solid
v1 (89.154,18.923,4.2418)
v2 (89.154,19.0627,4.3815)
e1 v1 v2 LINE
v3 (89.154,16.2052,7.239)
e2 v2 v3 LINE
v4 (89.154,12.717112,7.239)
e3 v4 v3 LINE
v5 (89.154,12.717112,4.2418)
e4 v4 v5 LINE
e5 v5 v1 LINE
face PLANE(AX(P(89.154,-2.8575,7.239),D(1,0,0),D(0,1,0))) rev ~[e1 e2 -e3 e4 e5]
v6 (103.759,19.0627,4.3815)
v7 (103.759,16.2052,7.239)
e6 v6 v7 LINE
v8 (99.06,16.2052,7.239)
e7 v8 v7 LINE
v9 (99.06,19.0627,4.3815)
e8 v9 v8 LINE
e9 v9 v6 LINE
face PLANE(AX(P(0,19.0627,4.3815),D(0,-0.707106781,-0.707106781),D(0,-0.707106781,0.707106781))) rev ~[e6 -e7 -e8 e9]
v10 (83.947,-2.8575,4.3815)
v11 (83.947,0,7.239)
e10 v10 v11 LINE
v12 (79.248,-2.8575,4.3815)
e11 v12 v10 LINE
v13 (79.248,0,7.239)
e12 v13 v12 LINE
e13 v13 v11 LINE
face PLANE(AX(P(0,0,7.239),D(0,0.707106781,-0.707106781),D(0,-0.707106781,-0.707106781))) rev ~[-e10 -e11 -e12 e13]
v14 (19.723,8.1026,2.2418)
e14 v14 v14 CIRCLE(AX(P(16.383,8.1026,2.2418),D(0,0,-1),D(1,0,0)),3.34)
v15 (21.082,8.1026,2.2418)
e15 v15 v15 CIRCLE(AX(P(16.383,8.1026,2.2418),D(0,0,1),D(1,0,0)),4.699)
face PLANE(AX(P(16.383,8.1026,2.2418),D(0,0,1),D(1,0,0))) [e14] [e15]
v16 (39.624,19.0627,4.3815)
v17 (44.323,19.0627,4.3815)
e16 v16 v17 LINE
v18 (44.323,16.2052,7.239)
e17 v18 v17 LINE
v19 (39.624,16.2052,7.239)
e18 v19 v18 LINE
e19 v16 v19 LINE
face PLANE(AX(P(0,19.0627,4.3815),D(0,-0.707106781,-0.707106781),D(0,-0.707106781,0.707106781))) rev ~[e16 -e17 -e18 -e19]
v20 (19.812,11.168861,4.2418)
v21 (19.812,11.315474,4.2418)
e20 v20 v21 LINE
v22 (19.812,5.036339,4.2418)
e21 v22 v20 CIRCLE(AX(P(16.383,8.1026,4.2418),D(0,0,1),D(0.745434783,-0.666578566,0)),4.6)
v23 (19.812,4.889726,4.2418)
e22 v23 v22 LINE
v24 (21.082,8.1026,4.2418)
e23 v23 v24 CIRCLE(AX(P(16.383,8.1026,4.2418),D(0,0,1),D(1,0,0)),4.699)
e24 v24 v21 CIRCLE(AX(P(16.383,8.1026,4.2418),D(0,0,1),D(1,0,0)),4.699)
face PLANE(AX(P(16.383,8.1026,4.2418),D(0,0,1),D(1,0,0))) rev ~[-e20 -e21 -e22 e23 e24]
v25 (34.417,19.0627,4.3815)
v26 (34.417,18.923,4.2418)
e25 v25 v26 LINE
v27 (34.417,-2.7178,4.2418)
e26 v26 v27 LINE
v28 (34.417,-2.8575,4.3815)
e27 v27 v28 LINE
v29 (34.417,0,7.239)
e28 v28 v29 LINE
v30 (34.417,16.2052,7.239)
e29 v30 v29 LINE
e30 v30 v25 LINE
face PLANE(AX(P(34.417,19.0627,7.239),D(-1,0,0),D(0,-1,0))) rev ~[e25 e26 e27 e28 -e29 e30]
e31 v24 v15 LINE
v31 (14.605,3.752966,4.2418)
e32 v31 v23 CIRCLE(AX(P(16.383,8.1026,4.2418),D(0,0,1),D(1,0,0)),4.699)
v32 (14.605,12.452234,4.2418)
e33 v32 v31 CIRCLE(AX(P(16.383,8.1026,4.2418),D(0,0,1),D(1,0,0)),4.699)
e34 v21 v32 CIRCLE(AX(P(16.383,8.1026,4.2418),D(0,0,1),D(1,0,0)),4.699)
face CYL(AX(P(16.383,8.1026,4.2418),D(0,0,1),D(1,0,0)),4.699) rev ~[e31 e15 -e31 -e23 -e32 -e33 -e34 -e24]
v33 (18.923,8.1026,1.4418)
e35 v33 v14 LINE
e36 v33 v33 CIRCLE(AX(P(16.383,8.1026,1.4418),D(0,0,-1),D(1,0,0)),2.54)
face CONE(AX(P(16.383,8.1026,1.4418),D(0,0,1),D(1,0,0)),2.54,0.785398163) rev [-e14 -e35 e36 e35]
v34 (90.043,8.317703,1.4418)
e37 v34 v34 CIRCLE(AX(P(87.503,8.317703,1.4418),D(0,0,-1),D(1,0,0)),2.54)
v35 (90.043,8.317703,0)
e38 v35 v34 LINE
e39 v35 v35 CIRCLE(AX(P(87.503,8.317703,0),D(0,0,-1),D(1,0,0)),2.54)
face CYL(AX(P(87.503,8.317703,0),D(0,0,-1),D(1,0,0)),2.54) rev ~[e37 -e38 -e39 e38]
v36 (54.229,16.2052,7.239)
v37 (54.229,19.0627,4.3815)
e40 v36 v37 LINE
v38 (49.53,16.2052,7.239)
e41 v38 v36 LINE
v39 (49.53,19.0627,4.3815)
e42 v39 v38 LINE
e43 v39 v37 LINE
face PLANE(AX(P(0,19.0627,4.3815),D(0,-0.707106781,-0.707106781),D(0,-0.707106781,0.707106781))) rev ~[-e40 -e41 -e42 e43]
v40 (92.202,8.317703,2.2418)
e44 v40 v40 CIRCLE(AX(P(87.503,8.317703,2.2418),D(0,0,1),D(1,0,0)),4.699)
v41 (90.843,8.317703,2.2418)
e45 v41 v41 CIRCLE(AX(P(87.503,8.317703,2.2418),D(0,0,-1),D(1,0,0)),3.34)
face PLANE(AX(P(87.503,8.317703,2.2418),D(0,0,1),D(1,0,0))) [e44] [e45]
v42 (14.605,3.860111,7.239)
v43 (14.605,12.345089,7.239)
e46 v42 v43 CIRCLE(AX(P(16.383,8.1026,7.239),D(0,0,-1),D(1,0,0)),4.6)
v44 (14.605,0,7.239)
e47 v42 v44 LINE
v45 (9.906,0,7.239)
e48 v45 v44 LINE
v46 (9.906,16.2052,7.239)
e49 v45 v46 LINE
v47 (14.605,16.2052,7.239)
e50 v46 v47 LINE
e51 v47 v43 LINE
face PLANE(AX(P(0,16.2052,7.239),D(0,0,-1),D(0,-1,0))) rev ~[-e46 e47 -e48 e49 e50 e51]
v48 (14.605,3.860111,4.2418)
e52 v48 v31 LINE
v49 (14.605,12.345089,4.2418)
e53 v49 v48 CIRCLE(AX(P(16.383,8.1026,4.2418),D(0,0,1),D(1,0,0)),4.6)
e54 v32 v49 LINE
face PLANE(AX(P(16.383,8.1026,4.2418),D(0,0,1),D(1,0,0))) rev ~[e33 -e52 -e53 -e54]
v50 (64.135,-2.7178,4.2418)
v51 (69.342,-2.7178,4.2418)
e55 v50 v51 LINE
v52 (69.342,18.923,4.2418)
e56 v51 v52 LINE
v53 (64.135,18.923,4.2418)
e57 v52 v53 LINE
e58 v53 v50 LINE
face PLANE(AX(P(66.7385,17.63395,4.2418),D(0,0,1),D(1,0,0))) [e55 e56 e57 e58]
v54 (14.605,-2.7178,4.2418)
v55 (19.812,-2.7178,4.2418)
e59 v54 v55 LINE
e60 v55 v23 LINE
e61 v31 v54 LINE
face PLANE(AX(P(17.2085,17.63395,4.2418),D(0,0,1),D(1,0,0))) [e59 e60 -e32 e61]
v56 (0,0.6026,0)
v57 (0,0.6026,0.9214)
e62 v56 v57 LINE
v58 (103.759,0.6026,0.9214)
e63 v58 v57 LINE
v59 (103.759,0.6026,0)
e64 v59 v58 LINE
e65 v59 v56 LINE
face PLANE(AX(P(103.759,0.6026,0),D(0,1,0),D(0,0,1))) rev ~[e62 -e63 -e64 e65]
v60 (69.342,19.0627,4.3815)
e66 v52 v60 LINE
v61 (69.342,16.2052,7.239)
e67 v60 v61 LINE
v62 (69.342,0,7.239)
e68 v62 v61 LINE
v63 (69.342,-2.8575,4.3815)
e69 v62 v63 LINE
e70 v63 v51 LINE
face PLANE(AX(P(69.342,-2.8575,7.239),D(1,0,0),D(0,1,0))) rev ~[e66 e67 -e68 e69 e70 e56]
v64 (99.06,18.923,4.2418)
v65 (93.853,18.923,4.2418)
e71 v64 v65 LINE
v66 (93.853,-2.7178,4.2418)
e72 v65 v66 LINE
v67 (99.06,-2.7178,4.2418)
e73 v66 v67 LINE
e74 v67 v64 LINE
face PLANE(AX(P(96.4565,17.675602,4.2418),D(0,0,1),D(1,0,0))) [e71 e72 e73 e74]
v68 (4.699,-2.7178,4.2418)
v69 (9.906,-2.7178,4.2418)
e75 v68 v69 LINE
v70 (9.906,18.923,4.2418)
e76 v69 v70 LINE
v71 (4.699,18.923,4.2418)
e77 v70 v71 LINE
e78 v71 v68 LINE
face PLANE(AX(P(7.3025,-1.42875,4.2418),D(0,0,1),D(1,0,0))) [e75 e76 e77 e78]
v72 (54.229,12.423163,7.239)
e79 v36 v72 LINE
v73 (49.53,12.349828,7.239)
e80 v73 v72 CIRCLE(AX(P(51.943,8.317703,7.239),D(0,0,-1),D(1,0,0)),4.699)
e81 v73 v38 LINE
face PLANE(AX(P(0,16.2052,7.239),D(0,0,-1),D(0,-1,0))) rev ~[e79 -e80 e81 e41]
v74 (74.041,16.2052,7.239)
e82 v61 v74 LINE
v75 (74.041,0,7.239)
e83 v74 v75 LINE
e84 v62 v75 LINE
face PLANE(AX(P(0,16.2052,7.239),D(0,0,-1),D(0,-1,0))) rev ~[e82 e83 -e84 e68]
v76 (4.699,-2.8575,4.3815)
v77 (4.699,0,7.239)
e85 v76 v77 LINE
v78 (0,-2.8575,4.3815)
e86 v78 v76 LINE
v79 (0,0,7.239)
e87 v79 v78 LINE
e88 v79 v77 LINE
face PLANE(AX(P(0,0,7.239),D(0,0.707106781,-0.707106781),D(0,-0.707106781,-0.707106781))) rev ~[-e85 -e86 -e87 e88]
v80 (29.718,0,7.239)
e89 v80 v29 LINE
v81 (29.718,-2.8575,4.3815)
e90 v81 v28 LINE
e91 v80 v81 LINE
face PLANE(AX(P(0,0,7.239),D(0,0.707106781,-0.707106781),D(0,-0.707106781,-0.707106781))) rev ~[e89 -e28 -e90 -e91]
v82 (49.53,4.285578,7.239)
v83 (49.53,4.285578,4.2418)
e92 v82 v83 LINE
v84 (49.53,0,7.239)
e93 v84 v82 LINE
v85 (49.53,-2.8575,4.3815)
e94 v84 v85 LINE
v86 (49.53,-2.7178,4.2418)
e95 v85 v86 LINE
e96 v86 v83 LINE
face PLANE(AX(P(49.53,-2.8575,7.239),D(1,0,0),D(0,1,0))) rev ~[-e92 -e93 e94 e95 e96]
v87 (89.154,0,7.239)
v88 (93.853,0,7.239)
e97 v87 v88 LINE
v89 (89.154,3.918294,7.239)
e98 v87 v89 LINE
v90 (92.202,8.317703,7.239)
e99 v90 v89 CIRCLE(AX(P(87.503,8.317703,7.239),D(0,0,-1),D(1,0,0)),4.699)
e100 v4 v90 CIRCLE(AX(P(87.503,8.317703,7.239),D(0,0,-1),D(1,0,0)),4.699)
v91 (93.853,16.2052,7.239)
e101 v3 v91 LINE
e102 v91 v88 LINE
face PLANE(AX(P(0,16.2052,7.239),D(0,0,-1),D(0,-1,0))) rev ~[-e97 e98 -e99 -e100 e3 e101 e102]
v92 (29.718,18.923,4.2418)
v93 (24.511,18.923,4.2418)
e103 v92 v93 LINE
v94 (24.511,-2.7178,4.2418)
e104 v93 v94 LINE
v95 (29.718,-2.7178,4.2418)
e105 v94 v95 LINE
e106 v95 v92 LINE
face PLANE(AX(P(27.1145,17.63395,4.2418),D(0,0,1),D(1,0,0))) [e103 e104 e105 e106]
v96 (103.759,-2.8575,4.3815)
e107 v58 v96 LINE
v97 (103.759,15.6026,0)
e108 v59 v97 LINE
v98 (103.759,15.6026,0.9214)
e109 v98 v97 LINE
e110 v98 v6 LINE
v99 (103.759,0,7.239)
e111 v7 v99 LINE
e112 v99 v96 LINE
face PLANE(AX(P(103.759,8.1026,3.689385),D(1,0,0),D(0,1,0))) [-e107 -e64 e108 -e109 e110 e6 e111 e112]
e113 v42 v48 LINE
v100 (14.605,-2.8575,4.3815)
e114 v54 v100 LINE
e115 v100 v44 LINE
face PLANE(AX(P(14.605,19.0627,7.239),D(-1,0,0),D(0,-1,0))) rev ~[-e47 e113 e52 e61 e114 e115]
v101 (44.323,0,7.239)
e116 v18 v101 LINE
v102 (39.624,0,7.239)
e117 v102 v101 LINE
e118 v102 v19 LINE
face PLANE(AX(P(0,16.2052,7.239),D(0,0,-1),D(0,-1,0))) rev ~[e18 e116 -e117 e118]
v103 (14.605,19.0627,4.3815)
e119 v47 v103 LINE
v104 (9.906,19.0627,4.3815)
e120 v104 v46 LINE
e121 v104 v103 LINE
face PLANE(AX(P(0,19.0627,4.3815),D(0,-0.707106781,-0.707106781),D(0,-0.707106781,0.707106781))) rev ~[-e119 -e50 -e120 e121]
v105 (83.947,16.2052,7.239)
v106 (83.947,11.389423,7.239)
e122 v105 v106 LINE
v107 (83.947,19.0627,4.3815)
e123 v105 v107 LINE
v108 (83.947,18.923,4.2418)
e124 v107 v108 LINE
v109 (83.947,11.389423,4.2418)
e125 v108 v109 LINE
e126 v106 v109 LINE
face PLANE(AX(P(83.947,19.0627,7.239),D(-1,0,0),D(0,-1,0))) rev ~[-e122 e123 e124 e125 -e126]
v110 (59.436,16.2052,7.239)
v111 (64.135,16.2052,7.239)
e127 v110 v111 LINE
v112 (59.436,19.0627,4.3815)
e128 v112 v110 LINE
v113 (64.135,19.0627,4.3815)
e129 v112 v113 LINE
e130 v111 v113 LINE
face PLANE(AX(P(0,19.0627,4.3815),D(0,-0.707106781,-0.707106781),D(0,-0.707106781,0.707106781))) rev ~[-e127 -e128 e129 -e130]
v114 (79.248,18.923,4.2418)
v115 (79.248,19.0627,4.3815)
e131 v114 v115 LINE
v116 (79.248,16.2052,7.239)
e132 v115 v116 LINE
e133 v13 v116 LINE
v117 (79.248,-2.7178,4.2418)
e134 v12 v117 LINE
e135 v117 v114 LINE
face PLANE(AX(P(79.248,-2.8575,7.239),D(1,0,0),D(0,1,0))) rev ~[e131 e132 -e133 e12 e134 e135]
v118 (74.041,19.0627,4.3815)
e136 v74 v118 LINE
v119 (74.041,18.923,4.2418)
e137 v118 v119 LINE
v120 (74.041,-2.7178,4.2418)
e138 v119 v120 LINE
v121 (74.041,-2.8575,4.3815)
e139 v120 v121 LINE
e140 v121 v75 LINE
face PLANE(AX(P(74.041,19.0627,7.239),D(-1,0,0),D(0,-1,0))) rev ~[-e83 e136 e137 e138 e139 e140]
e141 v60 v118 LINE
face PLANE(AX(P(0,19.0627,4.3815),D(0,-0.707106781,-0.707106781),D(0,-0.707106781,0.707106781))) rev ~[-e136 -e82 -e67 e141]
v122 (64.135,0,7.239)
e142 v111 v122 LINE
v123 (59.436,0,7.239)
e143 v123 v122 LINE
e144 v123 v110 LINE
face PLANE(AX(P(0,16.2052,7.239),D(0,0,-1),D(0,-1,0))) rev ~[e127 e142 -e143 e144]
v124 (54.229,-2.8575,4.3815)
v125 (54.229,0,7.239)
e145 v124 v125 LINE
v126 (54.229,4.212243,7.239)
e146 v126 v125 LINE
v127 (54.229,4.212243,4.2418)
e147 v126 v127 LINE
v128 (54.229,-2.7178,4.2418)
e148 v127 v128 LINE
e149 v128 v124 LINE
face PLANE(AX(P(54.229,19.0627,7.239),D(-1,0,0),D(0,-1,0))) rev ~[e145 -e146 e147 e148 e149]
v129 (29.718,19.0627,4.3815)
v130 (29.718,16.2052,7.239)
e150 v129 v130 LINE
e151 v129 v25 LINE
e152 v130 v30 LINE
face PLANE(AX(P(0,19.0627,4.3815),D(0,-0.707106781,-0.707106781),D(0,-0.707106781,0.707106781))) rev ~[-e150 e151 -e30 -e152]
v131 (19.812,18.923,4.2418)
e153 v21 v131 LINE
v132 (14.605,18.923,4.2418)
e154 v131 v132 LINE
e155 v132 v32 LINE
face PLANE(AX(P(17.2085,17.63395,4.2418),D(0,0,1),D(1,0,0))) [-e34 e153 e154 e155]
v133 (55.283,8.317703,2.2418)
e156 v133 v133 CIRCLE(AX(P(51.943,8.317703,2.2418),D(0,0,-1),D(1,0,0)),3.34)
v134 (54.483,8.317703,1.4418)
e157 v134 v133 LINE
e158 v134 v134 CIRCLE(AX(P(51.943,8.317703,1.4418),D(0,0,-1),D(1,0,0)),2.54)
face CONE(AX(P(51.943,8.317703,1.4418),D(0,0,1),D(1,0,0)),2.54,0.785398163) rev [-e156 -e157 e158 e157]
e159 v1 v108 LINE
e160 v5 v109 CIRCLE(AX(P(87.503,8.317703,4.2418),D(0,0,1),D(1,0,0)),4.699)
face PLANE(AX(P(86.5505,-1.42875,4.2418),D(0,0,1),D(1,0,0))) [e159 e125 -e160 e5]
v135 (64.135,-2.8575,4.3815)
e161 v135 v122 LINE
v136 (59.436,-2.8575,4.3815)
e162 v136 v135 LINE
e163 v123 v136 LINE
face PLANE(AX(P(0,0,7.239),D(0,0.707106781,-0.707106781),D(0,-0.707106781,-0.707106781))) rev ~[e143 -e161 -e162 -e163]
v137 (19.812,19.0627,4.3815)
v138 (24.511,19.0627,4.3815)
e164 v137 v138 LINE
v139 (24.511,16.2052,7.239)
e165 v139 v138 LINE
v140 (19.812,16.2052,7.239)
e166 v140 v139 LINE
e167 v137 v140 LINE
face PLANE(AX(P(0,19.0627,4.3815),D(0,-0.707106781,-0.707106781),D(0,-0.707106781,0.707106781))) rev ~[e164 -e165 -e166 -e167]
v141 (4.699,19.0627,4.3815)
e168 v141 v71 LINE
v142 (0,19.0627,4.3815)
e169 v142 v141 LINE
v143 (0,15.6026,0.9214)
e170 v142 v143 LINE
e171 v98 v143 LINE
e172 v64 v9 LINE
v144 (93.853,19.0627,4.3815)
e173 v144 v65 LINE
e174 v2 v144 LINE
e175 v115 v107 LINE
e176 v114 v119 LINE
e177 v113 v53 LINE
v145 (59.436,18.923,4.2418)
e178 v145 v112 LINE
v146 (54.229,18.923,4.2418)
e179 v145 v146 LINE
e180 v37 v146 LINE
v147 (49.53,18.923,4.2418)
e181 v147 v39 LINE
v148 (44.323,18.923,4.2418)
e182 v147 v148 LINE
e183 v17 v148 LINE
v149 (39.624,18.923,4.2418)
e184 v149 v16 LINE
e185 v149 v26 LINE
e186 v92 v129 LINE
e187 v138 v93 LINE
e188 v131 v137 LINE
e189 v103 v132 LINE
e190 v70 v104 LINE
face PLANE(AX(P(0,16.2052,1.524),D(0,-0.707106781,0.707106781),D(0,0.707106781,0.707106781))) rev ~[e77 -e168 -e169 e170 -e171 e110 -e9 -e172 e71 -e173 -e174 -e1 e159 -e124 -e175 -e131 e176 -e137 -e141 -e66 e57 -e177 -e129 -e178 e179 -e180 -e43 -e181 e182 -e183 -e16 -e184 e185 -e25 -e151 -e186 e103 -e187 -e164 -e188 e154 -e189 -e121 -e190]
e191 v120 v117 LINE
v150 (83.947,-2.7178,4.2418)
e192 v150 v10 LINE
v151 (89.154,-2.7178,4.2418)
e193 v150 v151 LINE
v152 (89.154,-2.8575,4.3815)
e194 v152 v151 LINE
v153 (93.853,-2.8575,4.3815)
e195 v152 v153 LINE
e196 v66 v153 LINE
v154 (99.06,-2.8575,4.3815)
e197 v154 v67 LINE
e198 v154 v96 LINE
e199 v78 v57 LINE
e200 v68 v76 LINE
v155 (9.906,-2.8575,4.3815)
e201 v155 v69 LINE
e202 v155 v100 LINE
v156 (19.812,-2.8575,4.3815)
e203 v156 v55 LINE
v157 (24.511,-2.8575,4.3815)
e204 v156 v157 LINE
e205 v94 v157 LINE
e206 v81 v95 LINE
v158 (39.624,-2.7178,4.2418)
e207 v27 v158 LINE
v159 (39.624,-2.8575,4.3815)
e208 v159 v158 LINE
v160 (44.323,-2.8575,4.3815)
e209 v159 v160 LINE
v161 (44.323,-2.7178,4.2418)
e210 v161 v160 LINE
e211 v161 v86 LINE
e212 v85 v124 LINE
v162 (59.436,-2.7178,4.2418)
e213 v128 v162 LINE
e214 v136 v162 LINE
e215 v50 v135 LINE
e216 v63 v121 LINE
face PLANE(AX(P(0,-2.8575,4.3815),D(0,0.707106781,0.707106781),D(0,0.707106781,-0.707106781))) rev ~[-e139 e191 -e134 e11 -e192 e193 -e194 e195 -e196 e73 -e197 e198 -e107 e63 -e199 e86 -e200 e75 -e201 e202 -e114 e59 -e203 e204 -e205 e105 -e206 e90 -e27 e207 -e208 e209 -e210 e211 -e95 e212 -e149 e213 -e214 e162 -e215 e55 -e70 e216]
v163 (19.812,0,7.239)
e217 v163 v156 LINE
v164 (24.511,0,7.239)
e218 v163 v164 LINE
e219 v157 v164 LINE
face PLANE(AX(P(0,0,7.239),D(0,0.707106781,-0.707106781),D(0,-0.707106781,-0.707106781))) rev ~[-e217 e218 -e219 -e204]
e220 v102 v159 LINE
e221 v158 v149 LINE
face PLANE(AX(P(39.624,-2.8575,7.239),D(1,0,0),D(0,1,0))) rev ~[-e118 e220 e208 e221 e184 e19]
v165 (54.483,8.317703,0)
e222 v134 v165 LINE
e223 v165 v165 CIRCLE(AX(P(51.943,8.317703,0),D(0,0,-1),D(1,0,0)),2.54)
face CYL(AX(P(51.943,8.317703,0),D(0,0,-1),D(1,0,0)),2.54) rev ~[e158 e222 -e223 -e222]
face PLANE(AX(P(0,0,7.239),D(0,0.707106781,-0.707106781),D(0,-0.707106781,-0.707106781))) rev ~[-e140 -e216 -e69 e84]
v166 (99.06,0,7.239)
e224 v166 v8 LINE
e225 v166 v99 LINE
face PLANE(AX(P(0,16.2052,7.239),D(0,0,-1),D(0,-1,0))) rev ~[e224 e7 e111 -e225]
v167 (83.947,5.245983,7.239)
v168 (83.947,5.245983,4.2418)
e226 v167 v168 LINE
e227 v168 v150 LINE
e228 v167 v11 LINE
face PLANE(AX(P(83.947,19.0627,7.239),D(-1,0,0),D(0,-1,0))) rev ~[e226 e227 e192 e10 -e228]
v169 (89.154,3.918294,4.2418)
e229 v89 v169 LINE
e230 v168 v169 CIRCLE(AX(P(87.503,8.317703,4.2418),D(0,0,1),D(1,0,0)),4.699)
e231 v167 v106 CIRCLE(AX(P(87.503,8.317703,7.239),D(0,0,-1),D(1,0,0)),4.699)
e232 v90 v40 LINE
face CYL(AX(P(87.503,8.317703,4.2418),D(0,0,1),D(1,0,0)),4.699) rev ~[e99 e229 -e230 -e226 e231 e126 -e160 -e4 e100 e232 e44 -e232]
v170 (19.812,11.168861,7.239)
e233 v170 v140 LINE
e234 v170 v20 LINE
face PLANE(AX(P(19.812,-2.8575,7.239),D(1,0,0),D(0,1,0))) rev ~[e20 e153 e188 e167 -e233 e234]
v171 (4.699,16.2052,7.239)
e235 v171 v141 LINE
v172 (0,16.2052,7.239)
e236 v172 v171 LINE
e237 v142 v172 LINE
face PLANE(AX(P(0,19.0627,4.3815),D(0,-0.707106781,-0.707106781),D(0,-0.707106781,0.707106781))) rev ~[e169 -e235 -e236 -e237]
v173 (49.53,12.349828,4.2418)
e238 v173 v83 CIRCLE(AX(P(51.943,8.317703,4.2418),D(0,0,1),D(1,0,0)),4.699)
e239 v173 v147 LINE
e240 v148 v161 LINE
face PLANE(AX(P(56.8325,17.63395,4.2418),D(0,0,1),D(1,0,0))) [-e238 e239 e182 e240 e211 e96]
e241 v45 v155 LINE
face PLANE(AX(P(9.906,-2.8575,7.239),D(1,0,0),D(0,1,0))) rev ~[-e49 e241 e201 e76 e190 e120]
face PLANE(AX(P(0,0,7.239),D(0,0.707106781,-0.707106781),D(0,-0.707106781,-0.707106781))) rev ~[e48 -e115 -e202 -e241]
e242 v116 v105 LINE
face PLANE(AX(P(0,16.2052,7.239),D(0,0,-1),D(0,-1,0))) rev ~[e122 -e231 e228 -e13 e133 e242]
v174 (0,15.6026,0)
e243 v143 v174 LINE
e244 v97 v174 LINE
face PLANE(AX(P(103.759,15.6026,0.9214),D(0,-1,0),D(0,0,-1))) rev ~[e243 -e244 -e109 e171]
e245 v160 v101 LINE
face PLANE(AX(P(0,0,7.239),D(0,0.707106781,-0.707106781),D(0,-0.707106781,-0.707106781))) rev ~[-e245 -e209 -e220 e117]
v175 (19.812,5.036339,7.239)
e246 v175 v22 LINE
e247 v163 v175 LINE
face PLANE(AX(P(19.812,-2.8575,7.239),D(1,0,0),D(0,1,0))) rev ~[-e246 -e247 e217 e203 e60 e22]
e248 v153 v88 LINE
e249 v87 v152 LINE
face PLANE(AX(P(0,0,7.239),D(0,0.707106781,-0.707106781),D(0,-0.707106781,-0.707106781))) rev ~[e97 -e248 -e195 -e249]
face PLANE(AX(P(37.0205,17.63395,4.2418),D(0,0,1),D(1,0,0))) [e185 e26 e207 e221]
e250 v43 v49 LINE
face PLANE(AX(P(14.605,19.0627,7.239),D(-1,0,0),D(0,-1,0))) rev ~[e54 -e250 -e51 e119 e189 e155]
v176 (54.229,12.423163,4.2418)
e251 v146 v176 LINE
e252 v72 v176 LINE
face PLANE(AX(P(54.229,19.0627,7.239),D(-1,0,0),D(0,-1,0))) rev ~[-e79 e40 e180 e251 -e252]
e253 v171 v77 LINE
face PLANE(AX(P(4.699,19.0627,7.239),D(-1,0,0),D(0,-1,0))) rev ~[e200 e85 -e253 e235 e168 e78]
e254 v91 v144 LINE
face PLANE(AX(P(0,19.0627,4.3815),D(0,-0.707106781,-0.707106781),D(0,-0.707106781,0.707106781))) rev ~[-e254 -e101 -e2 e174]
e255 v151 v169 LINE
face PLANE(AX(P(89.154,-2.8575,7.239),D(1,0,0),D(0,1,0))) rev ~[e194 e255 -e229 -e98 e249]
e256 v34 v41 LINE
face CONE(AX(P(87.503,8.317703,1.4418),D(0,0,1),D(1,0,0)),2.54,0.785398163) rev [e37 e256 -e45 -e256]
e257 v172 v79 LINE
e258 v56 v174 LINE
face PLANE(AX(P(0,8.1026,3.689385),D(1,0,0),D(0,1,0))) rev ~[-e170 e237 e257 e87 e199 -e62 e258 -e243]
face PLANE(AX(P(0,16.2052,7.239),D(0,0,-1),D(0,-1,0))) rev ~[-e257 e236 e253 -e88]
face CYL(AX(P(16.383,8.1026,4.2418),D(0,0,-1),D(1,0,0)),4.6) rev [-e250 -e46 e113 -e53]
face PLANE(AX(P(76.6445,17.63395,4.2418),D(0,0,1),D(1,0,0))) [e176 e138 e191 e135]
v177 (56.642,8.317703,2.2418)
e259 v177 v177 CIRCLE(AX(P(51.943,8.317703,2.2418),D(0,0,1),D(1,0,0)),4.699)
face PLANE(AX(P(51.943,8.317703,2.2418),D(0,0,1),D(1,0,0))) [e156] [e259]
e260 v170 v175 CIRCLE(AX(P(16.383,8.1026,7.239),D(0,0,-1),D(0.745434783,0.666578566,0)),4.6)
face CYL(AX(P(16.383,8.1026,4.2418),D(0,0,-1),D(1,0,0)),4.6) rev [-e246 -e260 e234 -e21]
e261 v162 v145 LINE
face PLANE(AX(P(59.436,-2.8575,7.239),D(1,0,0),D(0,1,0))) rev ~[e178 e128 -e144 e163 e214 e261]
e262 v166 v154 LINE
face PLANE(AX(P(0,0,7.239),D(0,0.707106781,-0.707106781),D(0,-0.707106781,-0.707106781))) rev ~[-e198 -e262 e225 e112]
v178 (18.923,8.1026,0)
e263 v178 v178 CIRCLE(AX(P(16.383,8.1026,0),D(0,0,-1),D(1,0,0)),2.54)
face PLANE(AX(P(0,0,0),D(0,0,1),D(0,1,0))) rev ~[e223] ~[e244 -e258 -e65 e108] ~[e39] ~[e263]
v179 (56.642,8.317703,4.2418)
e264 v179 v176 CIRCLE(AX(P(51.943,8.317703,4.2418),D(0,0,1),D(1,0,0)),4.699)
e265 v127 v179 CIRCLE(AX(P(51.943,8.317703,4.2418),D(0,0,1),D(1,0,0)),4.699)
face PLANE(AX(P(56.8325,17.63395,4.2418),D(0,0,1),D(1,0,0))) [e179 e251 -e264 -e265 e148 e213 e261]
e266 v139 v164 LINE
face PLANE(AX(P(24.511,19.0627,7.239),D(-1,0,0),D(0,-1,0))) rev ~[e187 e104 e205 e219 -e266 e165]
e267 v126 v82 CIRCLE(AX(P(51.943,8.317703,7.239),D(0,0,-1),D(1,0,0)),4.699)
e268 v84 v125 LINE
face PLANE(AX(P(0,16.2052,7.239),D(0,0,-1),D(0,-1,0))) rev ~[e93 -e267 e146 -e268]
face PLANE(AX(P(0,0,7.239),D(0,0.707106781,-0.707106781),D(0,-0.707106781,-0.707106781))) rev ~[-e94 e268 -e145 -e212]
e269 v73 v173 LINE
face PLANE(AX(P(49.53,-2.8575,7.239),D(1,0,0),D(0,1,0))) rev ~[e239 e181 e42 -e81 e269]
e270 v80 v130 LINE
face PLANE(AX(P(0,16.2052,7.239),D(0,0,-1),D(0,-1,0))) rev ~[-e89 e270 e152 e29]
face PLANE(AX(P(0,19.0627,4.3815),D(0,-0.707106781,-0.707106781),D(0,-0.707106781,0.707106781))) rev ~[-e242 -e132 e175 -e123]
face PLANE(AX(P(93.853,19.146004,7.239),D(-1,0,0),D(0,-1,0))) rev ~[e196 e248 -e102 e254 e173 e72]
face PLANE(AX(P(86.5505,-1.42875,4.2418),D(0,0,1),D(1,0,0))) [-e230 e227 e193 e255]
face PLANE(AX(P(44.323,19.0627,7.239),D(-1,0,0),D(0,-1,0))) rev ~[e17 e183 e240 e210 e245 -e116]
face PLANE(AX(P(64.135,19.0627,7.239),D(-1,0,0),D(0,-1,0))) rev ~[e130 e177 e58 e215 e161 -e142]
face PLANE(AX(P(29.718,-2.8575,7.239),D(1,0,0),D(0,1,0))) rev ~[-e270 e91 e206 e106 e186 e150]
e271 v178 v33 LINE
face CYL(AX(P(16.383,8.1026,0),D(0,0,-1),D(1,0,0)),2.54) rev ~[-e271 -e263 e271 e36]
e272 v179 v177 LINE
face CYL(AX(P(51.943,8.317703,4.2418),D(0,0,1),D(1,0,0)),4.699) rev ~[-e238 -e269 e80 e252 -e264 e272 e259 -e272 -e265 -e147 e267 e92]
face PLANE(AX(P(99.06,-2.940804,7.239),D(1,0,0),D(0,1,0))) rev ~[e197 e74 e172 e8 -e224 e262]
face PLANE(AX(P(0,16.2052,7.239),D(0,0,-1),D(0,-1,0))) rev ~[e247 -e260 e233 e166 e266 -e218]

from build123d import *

# Parameters (mm, degrees)
F1_DEPTH  = 103.759
F2_W      = 5.207
F2_H      = 2.8575
F2_H_2    = 16.2052
F2_H_3    = 2.9408035447
F3_DEPTH  = 2.9972
F4_R      = 2.54
F5_DEPTH  = 12.7
F6_R      = 4.6
F7_DEPTH  = 25.4
F8_R      = 4.6
F9_DEPTH  = 25.4
F10_R     = 4.6
F11_DEPTH = 25.4
F13_DEPTH = 127
F14_R     = 4.699
F15_DEPTH = 2
F16_R     = 4.699
F17_DEPTH = 2
F18_DEPTH = 25.4
F19_R     = 4.699
F20_DEPTH = 2
F21_DEPTH = 25.4
F22_SIZE  = 0.8


with BuildPart() as f1:
    # F0 (on Right) → F1 (new body)
    with BuildSketch(Plane.YZ):
        Polygon((0, 1.524), (0, 0), (16.2052, 0), (16.2052, 1.524), (19.0627, 4.3815), (16.2052, 7.239), (0, 7.239), (-2.8575, 4.3815), align=None)
    extrude(amount=F1_DEPTH)

    # F2 (on face) → F3 (cut)
    with BuildSketch(Plane.XY.offset(7.239)):
        with Locations((7.3025, -1.42875)):
            Rectangle(F2_W, F2_H)
        Polygon((4.699, 16.2052), (4.699, 8.1026), (4.699, 0), (9.906, 0), (9.906, 16.2052), align=None)
        with Locations((7.3025, 17.63395)):
            Rectangle(F2_W, F2_H)
        with Locations((17.2085, 17.63395)):
            Rectangle(F2_W, F2_H)
        with Locations((17.2085, 8.1026)):
            Rectangle(F2_W, F2_H_2)
        with Locations((17.2085, -1.42875)):
            Rectangle(F2_W, F2_H)
        with Locations((27.1145, 17.63395)):
            Rectangle(F2_W, F2_H)
        with Locations((27.1145, 8.1026)):
            Rectangle(F2_W, F2_H_2)
        with Locations((27.1145, -1.42875)):
            Rectangle(F2_W, F2_H)
        with Locations((37.0205, 17.63395)):
            Rectangle(F2_W, F2_H)
        with Locations((37.0205, 8.1026)):
            Rectangle(F2_W, F2_H_2)
        with Locations((37.0205, -1.42875)):
            Rectangle(F2_W, F2_H)
        with Locations((46.9265, 17.63395)):
            Rectangle(F2_W, F2_H)
        with Locations((46.9265, 8.1026)):
            Rectangle(F2_W, F2_H_2)
        with Locations((46.9265, -1.42875)):
            Rectangle(F2_W, F2_H)
        with Locations((56.8325, 17.63395)):
            Rectangle(F2_W, F2_H)
        with Locations((56.8325, 8.1026)):
            Rectangle(F2_W, F2_H_2)
        with Locations((56.8325, -1.42875)):
            Rectangle(F2_W, F2_H)
        with Locations((66.7385, 17.63395)):
            Rectangle(F2_W, F2_H)
        with Locations((66.7385, 8.1026)):
            Rectangle(F2_W, F2_H_2)
        with Locations((66.7385, -1.42875)):
            Rectangle(F2_W, F2_H)
        with Locations((76.6445, 17.63395)):
            Rectangle(F2_W, F2_H)
        with Locations((76.6445, 8.1026)):
            Rectangle(F2_W, F2_H_2)
        with Locations((76.6445, -1.42875)):
            Rectangle(F2_W, F2_H)
        with Locations((86.5505, -1.42875)):
            Rectangle(F2_W, F2_H)
        with Locations((86.5505, 8.1026)):
            Rectangle(F2_W, F2_H_2)
        with Locations((86.5505, 17.63395)):
            Rectangle(F2_W, F2_H)
        with Locations((96.4565, 17.6756017723)):
            Rectangle(F2_W, F2_H_3)
        with Locations((96.4565, 8.1026)):
            Rectangle(F2_W, F2_H_2)
        with Locations((96.4565, -1.4704017723)):
            Rectangle(F2_W, F2_H_3)
    extrude(amount=-F3_DEPTH, mode=Mode.SUBTRACT)

    # F4 (on face) → F5 (cut, symmetric)
    with BuildSketch(Plane(origin=(0, 0, 0), x_dir=(1, 0, 0), z_dir=(0, 0, -1))):
        with Locations((87.503, -8.3177030837)):
            Circle(F4_R)
        with Locations((16.383, -8.1026)):
            Circle(F4_R)
        with Locations((51.943, -8.3177030837)):
            Circle(F4_R)
    extrude(amount=F5_DEPTH, both=True, mode=Mode.SUBTRACT)

    # F6 (on face) → F7 (cut)
    with BuildSketch(Plane.XY.offset(4.2418)):
        with Locations((16.383, 8.1026)):
            Circle(F6_R)
    extrude(amount=F7_DEPTH, mode=Mode.SUBTRACT)

    # F8 (on face) → F9 (cut)
    with BuildSketch(Plane.XY.offset(4.2418)):
        with Locations((87.503, 8.3177030837)):
            Circle(F8_R)
    extrude(amount=F9_DEPTH, mode=Mode.SUBTRACT)

    # F10 (on face) → F11 (cut)
    with BuildSketch(Plane.XY.offset(4.2418)):
        with Locations((51.943, 8.3177030837)):
            Circle(F10_R)
    extrude(amount=F11_DEPTH, mode=Mode.SUBTRACT)

    # F12 (on face) → F13 (cut)
    with BuildSketch(Plane.YZ.offset(103.759)):
        Polygon((0.6026, 0.9214), (-2.8575, 4.3815), (-2.8575, 0), (0.6026, 0), align=None)
        Polygon((19.0627, 0), (19.0627, 4.3815), (15.6026, 0.9214), (15.6026, 0), align=None)
    extrude(amount=-F13_DEPTH, mode=Mode.SUBTRACT)

    # F14 (on face) → F15 (cut)
    with BuildSketch(Plane.XY.offset(4.2418)):
        with Locations((16.383, 8.1026)):
            Circle(F14_R)
    extrude(amount=-F15_DEPTH, mode=Mode.SUBTRACT)

    # F16 (on face) → F17 (cut)
    with BuildSketch(Plane.XY.offset(4.2418)):
        with Locations((51.943, 8.3177030837)):
            Circle(F16_R)
    extrude(amount=-F17_DEPTH, mode=Mode.SUBTRACT)

    # F16 (on face) → F18 (cut)
    with BuildSketch(Plane.XY.offset(4.2418)):
        with Locations((51.943, 8.3177030837)):
            Circle(F16_R)
    extrude(amount=F18_DEPTH, mode=Mode.SUBTRACT)

    # F19 (on face) → F20 (cut)
    with BuildSketch(Plane.XY.offset(4.2418)):
        with Locations((87.503, 8.3177030837)):
            Circle(F19_R)
    extrude(amount=-F20_DEPTH, mode=Mode.SUBTRACT)

    # F19 (on face) → F21 (cut)
    with BuildSketch(Plane.XY.offset(4.2418)):
        with Locations((87.503, 8.3177030837)):
            Circle(F19_R)
    extrude(amount=F21_DEPTH, mode=Mode.SUBTRACT)

    # F22
    f22_edges = [f1.edges().sort_by_distance(p)[0] for p in [
        (84.963, 8.317703, 2.2418),
        (49.403, 8.317703, 2.2418),
        (13.843, 8.1026, 2.2418),
    ]]
    chamfer(f22_edges, length=F22_SIZE)


solid = f1.part
